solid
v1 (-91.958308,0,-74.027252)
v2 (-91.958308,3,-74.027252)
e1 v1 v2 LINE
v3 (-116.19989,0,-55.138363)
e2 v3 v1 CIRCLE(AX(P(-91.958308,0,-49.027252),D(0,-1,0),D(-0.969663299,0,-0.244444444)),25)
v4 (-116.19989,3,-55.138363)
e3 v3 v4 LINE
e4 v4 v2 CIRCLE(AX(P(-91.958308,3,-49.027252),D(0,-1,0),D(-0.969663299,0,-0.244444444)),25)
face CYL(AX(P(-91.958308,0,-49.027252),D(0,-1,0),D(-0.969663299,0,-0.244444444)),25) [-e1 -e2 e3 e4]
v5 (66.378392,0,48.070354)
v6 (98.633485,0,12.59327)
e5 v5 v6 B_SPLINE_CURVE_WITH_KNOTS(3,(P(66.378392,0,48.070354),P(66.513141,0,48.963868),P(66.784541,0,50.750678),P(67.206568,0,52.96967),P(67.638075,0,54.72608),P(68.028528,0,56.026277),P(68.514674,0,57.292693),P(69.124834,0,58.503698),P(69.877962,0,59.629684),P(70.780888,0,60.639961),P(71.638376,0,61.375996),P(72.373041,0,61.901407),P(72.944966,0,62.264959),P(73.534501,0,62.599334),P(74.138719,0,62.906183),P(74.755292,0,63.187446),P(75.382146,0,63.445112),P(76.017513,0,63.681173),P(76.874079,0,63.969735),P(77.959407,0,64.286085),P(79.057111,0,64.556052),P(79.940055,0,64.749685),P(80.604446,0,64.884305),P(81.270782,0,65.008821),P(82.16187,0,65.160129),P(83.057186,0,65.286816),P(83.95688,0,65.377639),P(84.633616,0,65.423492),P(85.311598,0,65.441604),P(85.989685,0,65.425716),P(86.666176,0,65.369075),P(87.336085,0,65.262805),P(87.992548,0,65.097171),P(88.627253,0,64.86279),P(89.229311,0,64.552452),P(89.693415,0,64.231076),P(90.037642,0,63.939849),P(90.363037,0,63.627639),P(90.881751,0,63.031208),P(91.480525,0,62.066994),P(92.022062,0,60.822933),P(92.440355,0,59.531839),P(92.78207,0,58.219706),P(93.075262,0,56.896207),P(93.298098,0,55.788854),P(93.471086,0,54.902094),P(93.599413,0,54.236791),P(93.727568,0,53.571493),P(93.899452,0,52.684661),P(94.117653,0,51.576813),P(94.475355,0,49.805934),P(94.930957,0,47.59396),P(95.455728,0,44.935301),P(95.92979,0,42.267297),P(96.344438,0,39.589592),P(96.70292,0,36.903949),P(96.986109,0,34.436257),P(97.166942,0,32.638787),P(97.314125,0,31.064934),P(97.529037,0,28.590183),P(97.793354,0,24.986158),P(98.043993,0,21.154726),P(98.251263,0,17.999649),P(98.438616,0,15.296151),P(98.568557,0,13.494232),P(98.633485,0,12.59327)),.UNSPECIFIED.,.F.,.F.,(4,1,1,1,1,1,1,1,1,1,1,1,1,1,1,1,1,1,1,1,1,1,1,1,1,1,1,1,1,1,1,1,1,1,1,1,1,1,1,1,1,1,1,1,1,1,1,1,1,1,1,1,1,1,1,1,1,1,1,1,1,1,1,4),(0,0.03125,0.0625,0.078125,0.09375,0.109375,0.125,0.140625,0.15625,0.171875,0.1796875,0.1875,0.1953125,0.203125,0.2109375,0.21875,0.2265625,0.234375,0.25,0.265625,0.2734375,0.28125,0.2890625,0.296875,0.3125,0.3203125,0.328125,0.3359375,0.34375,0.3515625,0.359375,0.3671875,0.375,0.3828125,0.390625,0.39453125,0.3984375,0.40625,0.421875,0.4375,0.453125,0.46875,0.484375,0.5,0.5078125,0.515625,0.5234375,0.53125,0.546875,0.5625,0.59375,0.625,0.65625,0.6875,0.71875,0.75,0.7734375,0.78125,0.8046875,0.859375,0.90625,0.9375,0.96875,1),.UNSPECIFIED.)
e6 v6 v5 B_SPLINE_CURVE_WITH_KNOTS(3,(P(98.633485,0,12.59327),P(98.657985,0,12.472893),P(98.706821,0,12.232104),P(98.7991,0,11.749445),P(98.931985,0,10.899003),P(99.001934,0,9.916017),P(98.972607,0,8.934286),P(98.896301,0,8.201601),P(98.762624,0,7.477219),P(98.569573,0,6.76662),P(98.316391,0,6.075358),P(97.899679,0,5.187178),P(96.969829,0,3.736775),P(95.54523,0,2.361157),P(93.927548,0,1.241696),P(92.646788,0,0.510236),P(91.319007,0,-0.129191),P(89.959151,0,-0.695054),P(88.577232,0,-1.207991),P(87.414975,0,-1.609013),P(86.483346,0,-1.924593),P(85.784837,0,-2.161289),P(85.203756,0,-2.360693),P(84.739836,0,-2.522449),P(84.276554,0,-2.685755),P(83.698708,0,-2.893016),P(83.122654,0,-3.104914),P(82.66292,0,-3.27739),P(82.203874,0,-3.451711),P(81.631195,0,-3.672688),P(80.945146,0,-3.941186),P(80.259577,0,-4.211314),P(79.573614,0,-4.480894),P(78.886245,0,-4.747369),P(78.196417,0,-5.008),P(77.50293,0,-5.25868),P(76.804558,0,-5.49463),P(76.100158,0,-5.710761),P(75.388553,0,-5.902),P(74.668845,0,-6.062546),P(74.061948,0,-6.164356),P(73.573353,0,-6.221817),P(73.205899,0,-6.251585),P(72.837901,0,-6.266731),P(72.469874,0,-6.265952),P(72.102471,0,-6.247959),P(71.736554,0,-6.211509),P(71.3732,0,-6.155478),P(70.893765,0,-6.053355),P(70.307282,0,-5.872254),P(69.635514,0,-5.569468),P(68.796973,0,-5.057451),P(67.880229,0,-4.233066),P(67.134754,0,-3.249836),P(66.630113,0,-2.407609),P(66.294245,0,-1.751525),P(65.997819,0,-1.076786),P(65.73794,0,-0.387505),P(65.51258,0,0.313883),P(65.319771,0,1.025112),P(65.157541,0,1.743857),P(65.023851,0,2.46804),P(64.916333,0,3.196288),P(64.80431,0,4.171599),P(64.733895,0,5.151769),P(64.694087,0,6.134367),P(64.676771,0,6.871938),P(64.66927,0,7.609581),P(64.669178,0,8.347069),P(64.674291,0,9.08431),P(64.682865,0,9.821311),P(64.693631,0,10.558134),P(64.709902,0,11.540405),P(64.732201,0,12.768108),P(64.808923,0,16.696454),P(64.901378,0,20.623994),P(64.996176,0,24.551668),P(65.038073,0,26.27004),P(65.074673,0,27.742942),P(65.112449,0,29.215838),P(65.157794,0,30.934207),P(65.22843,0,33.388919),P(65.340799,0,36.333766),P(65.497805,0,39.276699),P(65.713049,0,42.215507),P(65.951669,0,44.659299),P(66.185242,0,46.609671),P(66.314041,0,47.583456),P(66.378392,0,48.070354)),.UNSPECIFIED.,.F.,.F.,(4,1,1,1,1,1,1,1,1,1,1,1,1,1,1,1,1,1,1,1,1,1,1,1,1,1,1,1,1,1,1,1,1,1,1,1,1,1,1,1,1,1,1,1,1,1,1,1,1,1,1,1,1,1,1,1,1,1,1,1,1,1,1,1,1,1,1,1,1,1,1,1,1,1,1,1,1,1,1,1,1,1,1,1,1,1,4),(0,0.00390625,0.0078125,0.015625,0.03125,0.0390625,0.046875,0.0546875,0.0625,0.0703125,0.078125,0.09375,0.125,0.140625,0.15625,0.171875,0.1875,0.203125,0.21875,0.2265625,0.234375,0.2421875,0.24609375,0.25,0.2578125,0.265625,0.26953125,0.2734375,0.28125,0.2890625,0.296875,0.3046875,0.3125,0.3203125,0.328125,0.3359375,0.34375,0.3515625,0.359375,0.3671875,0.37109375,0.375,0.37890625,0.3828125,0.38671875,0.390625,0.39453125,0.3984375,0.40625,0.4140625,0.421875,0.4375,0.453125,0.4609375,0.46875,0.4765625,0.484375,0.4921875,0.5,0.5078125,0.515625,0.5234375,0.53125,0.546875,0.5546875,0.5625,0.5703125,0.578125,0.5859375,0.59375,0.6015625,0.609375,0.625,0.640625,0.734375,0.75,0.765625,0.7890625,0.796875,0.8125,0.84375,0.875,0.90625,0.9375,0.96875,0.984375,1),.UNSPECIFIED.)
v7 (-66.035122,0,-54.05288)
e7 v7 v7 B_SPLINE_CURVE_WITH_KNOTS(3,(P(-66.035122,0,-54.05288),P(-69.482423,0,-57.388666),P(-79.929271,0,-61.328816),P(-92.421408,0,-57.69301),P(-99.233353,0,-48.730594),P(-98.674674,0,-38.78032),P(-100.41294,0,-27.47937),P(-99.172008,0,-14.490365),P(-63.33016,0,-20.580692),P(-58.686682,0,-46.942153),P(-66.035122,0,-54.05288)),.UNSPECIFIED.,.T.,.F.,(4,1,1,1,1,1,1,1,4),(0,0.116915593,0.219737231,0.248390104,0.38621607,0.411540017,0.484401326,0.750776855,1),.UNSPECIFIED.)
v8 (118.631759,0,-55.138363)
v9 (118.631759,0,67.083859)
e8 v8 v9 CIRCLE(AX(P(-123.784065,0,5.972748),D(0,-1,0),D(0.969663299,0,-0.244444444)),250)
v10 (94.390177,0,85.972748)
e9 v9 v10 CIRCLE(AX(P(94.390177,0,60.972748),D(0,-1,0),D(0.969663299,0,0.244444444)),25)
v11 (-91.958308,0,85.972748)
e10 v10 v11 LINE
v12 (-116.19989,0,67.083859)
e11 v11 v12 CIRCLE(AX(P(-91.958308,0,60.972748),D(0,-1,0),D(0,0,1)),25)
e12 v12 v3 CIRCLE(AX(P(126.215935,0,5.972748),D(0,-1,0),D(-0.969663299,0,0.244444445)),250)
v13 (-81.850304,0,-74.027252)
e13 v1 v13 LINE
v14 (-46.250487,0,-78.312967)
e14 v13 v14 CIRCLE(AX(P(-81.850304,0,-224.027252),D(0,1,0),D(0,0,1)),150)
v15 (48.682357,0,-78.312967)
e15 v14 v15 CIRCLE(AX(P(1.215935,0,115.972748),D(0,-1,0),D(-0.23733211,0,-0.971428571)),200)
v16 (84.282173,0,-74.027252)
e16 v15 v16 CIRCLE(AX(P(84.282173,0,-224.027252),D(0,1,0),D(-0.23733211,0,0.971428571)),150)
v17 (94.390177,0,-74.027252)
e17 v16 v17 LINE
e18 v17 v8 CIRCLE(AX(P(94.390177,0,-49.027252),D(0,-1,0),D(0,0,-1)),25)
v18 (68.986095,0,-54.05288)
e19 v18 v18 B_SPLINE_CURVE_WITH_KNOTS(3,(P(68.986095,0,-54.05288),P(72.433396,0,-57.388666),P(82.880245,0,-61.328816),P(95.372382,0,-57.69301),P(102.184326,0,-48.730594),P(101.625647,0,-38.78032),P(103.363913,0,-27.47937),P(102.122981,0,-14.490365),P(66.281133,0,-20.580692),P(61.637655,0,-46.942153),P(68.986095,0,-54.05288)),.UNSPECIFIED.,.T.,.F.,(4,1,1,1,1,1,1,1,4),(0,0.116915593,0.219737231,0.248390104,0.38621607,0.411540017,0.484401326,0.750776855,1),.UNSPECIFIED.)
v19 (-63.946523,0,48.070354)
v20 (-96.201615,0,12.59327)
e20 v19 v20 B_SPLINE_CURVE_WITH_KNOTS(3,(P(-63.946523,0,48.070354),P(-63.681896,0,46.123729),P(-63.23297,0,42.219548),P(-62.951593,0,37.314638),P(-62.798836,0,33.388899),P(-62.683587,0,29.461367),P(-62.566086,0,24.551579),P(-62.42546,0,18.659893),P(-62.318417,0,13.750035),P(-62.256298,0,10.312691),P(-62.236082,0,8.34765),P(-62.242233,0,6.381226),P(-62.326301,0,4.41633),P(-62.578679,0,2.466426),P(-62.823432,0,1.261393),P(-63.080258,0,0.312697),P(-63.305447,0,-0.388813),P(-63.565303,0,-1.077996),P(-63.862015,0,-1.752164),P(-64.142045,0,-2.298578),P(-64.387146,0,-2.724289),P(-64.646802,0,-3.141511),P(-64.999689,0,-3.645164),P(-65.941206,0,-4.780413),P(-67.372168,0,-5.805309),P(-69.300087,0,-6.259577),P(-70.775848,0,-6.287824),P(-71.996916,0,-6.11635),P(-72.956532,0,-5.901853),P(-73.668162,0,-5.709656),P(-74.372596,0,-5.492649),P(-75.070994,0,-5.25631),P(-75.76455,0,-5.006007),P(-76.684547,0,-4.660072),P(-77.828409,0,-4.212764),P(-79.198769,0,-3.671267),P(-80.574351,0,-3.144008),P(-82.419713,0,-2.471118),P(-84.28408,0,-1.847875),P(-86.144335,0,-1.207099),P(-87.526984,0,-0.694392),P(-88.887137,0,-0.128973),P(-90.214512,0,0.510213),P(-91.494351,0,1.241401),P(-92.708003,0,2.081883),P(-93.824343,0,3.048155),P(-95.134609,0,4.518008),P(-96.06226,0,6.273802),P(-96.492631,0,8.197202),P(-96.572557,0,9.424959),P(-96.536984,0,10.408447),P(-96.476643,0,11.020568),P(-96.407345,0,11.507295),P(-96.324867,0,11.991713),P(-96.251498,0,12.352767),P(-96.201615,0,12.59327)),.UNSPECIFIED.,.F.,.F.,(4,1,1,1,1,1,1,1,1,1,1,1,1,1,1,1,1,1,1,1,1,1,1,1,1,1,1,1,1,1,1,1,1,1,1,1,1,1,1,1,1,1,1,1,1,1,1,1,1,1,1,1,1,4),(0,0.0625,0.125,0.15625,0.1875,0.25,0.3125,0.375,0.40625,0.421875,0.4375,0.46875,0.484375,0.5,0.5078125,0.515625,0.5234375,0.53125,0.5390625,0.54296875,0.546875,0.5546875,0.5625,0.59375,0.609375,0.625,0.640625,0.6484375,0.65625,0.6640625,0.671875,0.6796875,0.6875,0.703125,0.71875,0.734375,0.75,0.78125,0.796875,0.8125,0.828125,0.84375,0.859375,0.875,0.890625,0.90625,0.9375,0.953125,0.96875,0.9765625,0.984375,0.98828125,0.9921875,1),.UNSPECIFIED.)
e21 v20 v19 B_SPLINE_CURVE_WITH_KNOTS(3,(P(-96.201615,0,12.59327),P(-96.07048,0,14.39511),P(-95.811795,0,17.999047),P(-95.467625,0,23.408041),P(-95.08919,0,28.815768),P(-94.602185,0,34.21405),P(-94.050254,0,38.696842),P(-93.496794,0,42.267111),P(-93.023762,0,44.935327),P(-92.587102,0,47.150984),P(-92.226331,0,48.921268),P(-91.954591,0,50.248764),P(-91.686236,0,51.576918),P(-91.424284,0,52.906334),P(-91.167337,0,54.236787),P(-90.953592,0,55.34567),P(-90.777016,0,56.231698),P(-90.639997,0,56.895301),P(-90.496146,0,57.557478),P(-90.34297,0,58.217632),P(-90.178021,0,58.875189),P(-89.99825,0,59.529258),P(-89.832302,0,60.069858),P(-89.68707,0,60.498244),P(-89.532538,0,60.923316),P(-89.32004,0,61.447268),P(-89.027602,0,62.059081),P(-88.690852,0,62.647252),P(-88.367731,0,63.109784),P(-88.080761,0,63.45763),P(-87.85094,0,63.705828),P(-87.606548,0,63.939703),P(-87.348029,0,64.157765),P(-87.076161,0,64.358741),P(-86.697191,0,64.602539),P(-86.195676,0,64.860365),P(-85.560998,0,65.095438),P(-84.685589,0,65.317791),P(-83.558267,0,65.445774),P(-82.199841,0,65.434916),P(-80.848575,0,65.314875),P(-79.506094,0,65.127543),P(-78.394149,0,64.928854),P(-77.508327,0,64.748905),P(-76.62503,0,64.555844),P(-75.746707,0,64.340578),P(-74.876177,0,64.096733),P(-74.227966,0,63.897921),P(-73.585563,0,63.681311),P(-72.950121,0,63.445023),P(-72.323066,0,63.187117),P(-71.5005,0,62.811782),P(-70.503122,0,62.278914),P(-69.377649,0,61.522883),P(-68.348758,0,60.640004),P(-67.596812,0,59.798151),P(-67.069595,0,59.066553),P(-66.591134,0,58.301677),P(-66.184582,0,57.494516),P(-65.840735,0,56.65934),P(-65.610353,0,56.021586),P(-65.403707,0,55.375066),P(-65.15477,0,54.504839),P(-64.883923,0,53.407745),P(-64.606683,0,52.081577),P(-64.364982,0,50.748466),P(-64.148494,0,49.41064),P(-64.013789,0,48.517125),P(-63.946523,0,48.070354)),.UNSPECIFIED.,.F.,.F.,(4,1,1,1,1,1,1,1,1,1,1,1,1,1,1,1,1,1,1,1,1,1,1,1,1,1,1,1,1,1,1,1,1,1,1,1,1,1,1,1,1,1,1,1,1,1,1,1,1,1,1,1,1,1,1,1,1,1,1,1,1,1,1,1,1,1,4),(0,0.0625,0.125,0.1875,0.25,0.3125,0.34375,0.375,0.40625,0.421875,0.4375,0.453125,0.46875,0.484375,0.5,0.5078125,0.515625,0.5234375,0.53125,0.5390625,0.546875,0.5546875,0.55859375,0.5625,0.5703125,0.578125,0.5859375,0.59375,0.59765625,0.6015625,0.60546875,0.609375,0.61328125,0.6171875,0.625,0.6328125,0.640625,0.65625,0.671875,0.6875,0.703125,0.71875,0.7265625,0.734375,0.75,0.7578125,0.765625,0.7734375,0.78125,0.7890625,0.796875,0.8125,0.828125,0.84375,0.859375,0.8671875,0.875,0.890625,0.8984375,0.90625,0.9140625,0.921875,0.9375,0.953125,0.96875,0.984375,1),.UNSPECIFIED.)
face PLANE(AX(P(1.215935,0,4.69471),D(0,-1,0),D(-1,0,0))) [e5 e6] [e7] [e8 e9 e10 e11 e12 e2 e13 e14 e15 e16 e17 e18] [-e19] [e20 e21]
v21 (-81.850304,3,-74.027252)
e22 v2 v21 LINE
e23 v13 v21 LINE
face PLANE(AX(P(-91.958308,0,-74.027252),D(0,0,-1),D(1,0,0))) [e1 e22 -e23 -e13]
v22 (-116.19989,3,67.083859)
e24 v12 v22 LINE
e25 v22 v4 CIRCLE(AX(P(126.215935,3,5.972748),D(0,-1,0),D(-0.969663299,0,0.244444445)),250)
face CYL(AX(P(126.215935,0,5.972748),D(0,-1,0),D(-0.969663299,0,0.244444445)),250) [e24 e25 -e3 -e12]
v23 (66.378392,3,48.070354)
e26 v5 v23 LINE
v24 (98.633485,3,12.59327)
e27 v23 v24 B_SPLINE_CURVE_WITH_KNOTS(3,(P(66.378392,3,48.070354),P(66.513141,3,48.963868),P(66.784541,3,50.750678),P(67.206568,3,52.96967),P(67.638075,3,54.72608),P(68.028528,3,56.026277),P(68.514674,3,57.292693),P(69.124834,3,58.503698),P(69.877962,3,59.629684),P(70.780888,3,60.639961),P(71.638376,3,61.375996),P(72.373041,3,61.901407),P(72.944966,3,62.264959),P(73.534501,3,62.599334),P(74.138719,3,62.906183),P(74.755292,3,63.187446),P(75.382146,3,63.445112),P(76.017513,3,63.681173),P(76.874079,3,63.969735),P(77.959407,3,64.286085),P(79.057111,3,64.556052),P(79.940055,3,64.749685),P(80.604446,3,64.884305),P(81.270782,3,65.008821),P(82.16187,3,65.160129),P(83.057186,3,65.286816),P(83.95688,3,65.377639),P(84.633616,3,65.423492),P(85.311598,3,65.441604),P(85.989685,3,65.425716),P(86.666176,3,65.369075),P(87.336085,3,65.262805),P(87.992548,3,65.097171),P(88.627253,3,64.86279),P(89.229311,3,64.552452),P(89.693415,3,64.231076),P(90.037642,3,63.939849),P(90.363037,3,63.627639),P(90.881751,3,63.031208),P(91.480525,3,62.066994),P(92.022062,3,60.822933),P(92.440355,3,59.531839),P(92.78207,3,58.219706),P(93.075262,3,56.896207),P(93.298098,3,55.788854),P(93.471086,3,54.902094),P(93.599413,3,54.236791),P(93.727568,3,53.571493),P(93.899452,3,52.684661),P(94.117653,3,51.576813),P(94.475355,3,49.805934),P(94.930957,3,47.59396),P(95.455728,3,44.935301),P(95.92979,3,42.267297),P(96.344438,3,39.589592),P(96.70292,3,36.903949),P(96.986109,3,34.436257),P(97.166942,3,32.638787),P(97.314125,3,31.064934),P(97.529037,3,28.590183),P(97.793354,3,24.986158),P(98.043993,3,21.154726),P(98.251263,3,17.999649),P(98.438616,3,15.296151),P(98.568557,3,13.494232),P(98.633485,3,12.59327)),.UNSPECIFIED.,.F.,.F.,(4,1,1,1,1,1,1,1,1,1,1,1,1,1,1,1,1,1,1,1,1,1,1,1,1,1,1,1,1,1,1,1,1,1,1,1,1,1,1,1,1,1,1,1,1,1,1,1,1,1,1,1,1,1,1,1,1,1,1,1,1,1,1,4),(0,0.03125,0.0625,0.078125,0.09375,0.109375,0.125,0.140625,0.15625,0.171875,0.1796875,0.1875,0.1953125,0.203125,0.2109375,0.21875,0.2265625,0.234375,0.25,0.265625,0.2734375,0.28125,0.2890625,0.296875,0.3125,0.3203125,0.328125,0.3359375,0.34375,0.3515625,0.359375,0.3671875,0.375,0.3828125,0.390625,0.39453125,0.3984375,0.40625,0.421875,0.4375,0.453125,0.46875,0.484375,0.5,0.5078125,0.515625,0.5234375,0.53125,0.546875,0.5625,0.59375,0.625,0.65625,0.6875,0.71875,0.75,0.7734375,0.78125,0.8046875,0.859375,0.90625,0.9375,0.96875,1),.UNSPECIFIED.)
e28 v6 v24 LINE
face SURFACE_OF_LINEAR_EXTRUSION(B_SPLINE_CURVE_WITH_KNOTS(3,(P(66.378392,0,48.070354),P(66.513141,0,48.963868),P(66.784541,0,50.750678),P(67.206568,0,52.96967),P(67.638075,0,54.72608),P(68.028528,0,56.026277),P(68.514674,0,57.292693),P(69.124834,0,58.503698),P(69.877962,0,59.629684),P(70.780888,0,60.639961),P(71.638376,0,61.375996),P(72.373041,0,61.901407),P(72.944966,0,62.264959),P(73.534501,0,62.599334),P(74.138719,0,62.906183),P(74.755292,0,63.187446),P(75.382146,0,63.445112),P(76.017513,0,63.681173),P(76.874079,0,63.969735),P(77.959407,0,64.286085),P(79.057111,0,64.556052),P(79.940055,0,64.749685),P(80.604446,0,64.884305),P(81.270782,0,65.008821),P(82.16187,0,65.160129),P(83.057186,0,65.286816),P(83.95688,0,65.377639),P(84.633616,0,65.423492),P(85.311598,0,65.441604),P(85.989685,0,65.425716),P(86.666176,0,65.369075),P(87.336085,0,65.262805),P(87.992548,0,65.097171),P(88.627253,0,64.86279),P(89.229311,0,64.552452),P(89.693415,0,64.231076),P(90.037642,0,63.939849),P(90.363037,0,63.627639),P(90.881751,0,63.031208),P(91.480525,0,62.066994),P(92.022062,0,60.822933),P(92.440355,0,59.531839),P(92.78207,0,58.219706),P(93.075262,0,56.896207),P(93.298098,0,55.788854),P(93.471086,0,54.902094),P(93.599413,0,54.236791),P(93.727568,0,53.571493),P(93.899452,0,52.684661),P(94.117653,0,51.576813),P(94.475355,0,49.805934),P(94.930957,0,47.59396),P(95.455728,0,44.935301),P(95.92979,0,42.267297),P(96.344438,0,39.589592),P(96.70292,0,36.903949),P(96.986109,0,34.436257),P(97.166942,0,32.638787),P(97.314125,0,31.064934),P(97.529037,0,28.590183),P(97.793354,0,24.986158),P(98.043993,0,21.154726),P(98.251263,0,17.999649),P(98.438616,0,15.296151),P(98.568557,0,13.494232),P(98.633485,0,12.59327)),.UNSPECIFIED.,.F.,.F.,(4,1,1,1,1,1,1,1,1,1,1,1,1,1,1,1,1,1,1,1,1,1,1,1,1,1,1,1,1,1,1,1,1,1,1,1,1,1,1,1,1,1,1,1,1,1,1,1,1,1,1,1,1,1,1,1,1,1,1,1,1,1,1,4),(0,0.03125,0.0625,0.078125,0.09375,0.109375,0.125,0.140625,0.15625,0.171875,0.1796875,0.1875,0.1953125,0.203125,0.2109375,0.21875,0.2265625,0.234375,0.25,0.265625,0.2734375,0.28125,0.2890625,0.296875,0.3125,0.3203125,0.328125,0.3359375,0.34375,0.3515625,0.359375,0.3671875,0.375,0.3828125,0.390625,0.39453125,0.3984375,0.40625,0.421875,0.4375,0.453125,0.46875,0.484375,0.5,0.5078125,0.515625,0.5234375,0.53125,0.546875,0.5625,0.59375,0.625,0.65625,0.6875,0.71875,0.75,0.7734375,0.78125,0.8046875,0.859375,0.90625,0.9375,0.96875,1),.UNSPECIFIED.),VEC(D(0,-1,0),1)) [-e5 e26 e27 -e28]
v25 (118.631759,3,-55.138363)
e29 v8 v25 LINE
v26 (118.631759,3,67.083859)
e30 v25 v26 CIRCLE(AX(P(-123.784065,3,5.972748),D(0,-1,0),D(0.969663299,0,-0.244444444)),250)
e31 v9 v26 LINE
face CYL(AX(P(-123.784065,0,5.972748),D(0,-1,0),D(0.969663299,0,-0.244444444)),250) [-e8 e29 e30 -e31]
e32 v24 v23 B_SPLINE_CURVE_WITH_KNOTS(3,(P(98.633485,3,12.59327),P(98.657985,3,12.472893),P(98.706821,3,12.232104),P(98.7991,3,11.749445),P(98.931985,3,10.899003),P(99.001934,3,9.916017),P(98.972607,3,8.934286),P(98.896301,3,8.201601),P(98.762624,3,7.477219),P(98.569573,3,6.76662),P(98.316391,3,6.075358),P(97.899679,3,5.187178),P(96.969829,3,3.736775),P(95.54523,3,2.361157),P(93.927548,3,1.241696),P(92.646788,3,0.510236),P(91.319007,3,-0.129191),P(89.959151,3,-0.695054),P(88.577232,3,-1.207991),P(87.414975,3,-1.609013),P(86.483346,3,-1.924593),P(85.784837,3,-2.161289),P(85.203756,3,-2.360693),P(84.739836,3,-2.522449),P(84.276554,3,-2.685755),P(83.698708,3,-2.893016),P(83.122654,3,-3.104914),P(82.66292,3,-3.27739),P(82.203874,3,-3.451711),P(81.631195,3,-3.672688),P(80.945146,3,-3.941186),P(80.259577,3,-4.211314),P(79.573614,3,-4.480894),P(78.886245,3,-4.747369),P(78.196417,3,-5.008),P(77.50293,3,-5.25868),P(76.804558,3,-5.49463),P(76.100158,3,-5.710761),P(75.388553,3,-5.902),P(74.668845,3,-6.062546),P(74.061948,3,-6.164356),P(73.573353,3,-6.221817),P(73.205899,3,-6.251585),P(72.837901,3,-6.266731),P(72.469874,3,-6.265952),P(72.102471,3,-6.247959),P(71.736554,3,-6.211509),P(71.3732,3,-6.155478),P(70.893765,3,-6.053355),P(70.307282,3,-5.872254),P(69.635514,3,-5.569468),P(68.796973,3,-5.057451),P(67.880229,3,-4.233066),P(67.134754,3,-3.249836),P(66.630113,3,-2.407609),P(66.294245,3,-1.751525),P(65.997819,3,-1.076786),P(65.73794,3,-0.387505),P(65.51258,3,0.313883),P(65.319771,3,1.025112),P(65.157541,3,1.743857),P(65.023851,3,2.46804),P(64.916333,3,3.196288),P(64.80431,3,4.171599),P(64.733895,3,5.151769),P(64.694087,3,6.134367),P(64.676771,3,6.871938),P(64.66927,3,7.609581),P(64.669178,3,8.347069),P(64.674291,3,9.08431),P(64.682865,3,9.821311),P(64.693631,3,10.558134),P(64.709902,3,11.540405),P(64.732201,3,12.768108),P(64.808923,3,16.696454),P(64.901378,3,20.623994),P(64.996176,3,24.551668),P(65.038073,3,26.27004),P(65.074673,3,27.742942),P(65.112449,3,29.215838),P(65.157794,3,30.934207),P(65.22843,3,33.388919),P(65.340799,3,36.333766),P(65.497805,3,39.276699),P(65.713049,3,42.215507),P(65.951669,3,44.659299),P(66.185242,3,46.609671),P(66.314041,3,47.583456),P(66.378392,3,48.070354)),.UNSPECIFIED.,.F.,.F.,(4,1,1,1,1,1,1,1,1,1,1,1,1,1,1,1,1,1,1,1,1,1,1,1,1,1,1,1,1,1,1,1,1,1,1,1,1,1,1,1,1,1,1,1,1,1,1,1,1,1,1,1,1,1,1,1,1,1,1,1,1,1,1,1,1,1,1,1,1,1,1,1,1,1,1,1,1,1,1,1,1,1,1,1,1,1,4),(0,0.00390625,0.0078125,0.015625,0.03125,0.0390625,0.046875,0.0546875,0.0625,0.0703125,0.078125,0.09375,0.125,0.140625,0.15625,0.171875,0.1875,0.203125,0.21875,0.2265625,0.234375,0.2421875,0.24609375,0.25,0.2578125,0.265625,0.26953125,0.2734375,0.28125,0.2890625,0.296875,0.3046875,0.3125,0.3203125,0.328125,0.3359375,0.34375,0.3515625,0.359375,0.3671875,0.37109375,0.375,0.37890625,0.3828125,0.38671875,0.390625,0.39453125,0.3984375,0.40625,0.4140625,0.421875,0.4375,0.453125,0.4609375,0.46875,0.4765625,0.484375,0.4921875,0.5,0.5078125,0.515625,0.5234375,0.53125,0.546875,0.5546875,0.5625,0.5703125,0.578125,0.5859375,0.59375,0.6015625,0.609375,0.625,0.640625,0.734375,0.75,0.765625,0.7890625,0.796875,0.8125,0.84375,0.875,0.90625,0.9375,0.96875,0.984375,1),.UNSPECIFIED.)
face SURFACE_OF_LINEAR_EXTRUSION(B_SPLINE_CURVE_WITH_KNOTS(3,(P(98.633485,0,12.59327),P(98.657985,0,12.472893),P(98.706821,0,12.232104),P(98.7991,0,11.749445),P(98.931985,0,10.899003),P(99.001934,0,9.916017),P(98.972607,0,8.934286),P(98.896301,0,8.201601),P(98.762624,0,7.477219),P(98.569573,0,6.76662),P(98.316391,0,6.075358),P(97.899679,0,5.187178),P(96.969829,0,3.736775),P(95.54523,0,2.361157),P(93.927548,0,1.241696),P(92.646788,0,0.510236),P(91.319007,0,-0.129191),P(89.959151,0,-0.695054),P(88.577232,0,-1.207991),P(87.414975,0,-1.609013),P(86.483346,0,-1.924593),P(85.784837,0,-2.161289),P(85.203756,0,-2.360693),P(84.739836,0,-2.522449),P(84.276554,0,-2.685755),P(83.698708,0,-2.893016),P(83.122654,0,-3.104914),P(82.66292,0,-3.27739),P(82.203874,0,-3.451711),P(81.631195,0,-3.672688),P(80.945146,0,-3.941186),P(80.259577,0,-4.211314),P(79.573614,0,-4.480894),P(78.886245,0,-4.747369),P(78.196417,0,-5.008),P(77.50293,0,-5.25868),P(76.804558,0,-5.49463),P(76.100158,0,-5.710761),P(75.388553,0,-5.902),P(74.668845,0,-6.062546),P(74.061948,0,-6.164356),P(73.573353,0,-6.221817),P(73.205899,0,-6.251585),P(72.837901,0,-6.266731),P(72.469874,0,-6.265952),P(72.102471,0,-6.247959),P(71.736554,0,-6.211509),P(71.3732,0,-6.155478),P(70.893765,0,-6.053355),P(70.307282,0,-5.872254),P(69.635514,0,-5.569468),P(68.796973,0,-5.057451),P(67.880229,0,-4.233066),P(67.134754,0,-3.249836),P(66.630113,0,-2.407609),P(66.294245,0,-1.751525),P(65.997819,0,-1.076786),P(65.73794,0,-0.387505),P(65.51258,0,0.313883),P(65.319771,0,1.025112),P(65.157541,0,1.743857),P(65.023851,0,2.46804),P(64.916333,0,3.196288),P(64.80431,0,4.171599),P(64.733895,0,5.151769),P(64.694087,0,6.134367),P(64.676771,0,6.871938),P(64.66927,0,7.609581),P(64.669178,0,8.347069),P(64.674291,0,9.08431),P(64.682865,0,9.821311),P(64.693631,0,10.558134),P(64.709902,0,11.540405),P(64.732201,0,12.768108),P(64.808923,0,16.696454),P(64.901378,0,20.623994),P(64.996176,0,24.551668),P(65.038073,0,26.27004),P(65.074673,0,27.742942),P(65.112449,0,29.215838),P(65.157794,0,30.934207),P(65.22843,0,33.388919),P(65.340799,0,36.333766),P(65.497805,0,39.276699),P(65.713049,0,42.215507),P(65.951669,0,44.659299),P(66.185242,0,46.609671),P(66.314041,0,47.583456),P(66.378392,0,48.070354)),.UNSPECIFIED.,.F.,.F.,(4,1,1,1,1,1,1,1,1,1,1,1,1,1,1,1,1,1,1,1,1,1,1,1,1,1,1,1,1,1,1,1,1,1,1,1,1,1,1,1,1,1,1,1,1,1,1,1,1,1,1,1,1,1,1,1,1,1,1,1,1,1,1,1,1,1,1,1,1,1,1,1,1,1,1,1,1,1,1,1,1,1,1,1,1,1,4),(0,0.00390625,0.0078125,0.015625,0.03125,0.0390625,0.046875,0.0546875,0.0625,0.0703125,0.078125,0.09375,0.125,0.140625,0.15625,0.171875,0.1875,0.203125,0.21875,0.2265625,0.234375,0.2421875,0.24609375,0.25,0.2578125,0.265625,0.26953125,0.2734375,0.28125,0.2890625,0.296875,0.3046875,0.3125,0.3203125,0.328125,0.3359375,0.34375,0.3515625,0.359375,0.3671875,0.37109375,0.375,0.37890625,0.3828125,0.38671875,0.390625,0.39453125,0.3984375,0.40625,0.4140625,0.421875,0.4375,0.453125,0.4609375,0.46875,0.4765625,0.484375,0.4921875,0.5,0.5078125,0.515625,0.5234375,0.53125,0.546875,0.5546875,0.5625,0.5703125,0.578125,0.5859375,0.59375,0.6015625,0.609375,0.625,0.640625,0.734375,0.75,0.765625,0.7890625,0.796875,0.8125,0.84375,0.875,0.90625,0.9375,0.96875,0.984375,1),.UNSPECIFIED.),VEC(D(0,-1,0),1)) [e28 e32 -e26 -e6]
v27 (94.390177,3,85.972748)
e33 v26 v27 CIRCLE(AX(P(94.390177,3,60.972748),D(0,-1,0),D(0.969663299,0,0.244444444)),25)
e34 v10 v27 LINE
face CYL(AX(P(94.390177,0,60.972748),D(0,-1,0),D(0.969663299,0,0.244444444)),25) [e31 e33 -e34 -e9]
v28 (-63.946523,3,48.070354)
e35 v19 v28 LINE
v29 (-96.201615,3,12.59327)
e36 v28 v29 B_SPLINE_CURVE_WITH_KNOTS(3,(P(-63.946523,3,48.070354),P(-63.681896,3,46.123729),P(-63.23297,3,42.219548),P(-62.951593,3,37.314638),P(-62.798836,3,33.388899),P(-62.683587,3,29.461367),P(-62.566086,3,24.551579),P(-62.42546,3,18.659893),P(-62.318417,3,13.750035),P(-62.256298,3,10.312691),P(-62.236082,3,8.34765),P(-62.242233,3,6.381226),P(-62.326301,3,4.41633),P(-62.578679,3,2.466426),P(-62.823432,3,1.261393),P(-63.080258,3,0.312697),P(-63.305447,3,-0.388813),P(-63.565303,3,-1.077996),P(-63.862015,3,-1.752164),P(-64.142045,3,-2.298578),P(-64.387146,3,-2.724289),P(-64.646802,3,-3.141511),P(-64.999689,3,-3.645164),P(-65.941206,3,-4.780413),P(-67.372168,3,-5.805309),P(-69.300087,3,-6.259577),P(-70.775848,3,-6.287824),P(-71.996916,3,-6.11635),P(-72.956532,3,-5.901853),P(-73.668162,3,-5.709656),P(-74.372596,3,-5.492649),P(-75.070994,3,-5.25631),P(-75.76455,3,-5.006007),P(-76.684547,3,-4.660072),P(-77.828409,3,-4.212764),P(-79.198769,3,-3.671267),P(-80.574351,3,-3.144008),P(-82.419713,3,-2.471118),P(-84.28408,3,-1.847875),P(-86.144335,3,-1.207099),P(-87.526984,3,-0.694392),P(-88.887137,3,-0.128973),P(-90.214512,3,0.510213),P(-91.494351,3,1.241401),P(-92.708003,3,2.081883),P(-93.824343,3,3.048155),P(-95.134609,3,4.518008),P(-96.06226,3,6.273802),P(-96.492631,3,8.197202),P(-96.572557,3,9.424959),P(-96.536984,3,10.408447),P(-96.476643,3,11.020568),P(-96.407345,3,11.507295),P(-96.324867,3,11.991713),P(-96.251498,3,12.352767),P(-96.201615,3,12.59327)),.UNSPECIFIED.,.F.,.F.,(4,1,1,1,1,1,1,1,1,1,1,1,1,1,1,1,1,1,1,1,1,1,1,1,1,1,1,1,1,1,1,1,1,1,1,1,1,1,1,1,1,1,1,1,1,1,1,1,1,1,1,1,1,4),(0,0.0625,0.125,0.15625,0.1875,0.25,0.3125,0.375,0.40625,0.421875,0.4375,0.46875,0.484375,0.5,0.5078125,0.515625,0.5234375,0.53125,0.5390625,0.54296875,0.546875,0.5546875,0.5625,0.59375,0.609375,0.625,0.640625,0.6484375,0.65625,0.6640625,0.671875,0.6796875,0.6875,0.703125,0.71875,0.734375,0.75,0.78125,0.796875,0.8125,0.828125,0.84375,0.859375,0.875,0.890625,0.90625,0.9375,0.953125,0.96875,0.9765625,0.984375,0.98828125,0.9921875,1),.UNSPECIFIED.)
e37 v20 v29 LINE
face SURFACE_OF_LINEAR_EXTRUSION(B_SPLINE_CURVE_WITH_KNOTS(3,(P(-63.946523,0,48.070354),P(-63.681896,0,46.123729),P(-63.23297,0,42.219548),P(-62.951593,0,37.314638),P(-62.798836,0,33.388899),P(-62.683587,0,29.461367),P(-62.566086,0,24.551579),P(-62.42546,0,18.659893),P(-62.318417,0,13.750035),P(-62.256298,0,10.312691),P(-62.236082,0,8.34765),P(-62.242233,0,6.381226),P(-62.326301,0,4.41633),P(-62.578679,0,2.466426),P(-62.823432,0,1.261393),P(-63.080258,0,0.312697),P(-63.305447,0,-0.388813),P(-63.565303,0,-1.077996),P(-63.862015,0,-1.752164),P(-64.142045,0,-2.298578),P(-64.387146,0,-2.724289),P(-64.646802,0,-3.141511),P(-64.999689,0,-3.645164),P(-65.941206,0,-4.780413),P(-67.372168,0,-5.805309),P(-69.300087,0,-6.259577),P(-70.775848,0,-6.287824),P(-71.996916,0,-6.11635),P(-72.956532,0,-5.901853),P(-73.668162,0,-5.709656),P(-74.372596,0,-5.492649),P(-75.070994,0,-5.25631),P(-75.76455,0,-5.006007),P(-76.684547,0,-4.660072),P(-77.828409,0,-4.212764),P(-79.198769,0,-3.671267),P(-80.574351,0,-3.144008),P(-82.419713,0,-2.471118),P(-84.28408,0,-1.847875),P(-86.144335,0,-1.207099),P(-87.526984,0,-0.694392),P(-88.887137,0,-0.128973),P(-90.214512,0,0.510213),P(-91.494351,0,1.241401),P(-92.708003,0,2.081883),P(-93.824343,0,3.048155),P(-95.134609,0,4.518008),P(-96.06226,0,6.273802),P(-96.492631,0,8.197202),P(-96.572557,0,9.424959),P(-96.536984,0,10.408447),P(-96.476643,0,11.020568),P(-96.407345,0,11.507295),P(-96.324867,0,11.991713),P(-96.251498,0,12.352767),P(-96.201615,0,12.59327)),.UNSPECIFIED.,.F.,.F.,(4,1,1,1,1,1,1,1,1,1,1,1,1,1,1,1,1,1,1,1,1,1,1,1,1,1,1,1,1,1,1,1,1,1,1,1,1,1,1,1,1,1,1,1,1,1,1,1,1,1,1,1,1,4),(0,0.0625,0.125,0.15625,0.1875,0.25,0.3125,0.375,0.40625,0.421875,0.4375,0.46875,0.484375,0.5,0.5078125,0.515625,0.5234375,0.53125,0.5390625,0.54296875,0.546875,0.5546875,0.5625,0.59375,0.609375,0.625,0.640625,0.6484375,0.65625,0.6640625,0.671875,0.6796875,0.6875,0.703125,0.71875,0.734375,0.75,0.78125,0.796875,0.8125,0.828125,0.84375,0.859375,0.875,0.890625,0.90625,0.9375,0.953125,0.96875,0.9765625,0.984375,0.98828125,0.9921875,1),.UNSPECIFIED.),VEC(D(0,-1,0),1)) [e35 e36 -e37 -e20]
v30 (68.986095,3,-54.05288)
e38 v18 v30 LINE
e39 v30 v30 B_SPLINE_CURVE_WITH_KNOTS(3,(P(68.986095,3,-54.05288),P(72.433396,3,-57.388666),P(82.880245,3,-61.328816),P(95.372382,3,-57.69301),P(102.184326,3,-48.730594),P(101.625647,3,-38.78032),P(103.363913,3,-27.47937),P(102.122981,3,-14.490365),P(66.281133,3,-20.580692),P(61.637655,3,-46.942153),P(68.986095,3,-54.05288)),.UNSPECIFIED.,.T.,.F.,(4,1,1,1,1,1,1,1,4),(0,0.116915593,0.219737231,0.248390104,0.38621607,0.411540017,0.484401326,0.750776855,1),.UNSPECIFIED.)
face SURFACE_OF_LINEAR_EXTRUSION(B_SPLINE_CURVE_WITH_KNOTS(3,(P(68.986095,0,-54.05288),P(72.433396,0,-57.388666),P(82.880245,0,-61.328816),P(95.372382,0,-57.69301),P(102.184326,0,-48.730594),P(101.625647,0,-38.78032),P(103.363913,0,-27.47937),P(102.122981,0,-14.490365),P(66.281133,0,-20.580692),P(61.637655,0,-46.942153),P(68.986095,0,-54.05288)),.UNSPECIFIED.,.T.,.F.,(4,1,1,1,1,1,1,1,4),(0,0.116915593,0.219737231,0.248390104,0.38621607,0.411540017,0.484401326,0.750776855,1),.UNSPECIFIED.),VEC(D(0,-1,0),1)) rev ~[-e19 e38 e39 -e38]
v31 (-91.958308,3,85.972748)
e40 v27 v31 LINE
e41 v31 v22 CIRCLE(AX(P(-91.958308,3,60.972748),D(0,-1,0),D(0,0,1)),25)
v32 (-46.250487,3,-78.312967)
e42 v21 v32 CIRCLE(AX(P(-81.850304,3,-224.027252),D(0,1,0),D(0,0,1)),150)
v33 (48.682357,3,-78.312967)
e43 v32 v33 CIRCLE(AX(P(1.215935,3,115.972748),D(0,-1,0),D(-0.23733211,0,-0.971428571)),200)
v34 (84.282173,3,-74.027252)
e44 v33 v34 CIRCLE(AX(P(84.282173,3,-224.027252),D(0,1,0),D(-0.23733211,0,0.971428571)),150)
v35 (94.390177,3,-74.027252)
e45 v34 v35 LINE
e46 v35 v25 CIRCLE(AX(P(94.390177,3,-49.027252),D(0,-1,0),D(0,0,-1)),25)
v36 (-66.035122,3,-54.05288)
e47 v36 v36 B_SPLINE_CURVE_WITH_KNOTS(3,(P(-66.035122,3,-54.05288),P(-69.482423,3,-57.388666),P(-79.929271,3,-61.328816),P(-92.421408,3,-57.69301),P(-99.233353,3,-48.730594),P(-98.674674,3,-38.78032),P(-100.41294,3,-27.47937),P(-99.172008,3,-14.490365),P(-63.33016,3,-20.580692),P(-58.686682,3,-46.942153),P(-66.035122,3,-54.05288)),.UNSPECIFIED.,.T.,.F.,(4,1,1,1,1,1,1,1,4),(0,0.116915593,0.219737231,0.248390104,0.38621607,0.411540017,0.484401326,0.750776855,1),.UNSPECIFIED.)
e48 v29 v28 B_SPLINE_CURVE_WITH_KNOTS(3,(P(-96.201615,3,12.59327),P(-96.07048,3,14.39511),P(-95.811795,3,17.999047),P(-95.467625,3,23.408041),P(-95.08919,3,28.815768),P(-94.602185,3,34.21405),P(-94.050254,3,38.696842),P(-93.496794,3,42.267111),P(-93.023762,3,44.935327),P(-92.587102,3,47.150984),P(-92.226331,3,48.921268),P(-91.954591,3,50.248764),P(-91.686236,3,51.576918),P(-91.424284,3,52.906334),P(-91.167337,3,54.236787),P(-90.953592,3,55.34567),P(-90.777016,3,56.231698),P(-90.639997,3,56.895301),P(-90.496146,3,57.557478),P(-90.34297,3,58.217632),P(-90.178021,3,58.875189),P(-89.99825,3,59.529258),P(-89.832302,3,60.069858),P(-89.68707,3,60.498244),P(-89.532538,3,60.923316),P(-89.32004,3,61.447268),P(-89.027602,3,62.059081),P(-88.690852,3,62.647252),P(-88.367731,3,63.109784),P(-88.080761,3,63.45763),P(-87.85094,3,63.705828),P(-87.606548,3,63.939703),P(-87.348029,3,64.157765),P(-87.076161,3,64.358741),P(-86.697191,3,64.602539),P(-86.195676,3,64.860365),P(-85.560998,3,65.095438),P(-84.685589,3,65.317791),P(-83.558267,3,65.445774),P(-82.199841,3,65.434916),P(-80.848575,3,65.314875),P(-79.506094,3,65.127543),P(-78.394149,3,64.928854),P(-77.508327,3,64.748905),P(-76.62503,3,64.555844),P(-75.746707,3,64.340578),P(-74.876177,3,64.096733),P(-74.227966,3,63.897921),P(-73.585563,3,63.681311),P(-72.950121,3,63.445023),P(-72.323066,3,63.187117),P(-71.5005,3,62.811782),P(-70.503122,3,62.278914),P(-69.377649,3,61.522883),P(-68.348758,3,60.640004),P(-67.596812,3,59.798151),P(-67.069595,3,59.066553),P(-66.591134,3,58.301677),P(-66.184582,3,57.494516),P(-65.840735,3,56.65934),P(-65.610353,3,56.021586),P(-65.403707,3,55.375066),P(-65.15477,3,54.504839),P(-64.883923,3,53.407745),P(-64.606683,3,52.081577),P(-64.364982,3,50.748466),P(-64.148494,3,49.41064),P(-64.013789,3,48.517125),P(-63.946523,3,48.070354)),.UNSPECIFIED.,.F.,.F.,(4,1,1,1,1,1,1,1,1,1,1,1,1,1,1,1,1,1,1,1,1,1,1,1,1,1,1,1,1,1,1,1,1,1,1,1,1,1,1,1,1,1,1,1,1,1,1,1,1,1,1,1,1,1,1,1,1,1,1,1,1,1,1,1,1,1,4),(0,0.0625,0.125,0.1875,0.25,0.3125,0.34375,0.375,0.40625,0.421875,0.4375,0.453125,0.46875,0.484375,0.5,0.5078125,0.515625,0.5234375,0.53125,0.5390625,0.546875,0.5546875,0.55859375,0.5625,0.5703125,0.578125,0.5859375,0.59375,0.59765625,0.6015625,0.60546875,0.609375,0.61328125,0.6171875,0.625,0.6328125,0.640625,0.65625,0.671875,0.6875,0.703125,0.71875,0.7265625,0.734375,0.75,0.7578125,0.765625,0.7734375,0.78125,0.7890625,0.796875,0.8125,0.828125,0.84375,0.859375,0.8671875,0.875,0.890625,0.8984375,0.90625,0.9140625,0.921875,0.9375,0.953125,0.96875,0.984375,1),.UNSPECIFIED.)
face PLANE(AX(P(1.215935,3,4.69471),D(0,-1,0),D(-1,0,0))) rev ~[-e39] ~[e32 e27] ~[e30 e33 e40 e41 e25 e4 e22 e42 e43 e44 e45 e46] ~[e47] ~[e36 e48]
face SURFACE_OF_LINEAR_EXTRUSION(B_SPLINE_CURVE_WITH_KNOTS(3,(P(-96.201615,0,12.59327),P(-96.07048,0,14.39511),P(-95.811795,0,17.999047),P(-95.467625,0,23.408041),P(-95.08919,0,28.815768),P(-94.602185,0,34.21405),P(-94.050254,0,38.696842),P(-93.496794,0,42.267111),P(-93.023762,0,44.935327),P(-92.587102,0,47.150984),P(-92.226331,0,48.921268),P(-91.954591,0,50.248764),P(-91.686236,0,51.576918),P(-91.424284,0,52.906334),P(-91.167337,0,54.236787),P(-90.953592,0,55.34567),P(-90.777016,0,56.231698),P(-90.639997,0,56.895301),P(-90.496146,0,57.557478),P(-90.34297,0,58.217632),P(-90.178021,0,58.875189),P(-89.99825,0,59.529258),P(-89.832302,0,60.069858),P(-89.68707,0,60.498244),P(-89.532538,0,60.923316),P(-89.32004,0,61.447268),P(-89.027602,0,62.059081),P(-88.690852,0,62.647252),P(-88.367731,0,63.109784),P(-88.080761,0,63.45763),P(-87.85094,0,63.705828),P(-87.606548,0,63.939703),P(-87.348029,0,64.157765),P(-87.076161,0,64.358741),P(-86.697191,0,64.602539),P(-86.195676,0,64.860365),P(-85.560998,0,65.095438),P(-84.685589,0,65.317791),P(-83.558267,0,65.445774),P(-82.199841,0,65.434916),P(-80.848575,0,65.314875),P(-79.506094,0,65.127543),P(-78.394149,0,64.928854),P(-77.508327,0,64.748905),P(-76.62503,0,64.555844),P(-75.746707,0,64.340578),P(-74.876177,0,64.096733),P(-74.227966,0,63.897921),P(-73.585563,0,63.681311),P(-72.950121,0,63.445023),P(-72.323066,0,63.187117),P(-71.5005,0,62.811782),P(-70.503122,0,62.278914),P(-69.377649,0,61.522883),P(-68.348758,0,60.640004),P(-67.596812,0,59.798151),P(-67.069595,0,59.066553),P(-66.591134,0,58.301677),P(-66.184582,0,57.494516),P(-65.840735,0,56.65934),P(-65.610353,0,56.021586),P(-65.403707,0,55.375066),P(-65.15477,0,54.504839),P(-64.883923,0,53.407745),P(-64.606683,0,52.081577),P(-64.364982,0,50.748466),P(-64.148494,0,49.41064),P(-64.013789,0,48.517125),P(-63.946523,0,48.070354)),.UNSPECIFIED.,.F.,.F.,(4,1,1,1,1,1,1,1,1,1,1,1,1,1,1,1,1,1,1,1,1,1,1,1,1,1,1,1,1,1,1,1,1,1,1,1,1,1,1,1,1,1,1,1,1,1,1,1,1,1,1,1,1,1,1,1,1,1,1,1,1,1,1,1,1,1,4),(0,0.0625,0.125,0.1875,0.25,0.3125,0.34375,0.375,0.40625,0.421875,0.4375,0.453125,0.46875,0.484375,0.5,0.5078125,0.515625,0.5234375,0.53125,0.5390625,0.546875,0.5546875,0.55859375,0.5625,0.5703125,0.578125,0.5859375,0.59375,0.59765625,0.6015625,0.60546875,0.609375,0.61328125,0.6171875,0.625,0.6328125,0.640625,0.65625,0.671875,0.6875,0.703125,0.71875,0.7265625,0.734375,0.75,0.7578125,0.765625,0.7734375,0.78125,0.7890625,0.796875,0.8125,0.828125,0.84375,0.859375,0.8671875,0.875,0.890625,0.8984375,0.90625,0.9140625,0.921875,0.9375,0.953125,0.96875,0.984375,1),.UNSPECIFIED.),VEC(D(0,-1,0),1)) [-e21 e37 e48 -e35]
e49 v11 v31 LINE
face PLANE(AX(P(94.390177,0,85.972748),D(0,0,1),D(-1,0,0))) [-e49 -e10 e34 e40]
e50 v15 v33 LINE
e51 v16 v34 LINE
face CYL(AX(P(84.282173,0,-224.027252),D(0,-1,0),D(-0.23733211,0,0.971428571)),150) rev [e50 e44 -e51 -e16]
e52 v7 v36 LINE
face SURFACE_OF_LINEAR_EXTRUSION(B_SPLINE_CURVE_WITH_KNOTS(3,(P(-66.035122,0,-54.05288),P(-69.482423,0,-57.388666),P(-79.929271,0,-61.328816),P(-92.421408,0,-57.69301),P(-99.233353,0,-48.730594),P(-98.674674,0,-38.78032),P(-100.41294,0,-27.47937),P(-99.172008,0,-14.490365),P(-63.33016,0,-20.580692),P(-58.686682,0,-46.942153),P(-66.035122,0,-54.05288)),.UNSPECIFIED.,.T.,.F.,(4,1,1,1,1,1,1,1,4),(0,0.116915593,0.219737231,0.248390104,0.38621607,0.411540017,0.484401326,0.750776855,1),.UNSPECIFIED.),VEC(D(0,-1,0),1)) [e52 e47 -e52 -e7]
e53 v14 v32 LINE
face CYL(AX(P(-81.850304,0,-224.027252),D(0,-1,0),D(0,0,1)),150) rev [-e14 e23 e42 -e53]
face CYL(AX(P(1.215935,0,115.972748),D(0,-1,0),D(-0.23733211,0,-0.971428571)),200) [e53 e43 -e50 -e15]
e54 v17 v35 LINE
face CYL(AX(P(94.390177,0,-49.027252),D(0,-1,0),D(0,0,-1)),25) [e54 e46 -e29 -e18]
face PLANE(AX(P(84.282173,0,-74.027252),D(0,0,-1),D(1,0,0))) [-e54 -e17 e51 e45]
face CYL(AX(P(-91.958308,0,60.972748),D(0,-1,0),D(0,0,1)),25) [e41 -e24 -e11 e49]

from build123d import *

# Parameters (mm, degrees)
EXTRUDE_1_DEPTH = 3


with BuildPart() as part:
    # 草图1 → 凸台-拉伸1 (new body)
    with BuildSketch(Plane(origin=(0, 0, 0), x_dir=(1, 0, 0), z_dir=(0, 1, 0))):
        with BuildLine():
            Line((94.390177013, -85.972747776), (-91.958307572, -85.972747776))
            ThreePointArc((-91.958307572, -85.972747776), (-107.324215001, -80.693013719), (-116.199890049, -67.083858887))
            ThreePointArc((-116.199890049, -67.083858887), (-123.784065285, -5.972747771), (-116.199890058, 55.138363346))
            ThreePointArc((-116.199890058, 55.138363346), (-107.32421501, 68.747518179), (-91.958307581, 74.027252235))
            Line((-91.958307581, 74.027252235), (-81.850303918, 74.027252235))
            ThreePointArc((-81.850303918, 74.027252235), (-63.921874778, 75.102534916), (-46.250487363, 78.312966521))
            ThreePointArc((-46.250487363, 78.312966521), (1.215934711, 84.027252235), (48.682356785, 78.312966521))
            ThreePointArc((48.682356785, 78.312966521), (66.3537442, 75.102534916), (84.28217334, 74.027252235))
            Line((84.28217334, 74.027252235), (94.390177004, 74.027252235))
            ThreePointArc((94.390177004, 74.027252235), (109.756084433, 68.747518179), (118.631759481, 55.138363346))
            ThreePointArc((118.631759481, 55.138363346), (126.215934711, -5.972747765), (118.631759481, -67.083858876))
            ThreePointArc((118.631759481, -67.083858876), (109.756084439, -80.693013712), (94.390177013, -85.972747776))
        make_face()
        with BuildLine():
            add(Edge.make_bspline(
                [(68.986094853, 54.052880458), (72.433395849, 57.388665861), (82.880244638, 61.328816288), (95.372381615, 57.69301042), (102.184326446, 48.730593852), (101.625647104, 38.780320493), (103.363913249, 27.479369986), (102.122981057, 14.490364998), (66.281132782, 20.580692387), (61.637655085, 46.942152926), (68.986094853, 54.052880458)],
                knots=[0, 0, 0, 0, 0.116915593, 0.219737231, 0.248390104, 0.38621607, 0.411540017, 0.484401326, 0.750776855, 1, 1, 1, 1], degree=3))
        make_face(mode=Mode.SUBTRACT)
        with BuildLine():
            add(Edge.make_bspline(
                [(-66.035121605, 54.052880458), (-69.482422601, 57.388665861), (-79.92927139, 61.328816288), (-92.421408367, 57.69301042), (-99.233353198, 48.730593852), (-98.674673857, 38.780320493), (-100.412940001, 27.479369986), (-99.17200781, 14.490364998), (-63.330159534, 20.580692387), (-58.686681838, 46.942152926), (-66.035121605, 54.052880458)],
                knots=[0, 0, 0, 0, 0.116915593, 0.219737231, 0.248390104, 0.38621607, 0.411540017, 0.484401326, 0.750776855, 1, 1, 1, 1], degree=3))
        make_face(mode=Mode.SUBTRACT)
        with BuildLine():
            add(Edge.make_bspline(
                [(66.378392316, -48.070354103), (66.513141004, -48.963867831), (66.784541184, -50.75067783), (67.206568019, -52.969669789), (67.638075057, -54.726079503), (68.028528116, -56.02627659), (68.514673647, -57.292693044), (69.12483392, -58.503698266), (69.877962185, -59.629683626), (70.780887624, -60.639960695), (71.638376045, -61.375995808), (72.373040628, -61.901406728), (72.944965724, -62.264959486), (73.53450138, -62.599334396), (74.138719009, -62.906182598), (74.755292003, -63.187445614), (75.382145547, -63.445111968), (76.017512525, -63.681173008), (76.874078736, -63.969734643), (77.959407285, -64.286084635), (79.057111498, -64.556052349), (79.940055415, -64.749685469), (80.60444556, -64.884305484), (81.270782263, -65.008820837), (82.161869772, -65.160128895), (83.05718589, -65.286816255), (83.956880014, -65.377639436), (84.633616492, -65.423491866), (85.311598155, -65.44160392), (85.989685456, -65.425715556), (86.666176397, -65.369075307), (87.336085397, -65.262804646), (87.992548189, -65.097170551), (88.627252742, -64.86279042), (89.229311344, -64.552451953), (89.693415023, -64.231076156), (90.037641849, -63.939849012), (90.363037091, -63.627638911), (90.881751466, -63.031207555), (91.480525034, -62.066993636), (92.022062013, -60.822932679), (92.440354572, -59.531839315), (92.782069694, -58.219705754), (93.075261947, -56.896207294), (93.298097785, -55.788853885), (93.471085542, -54.902094117), (93.599412547, -54.236790927), (93.727568, -53.571492843), (93.899452413, -52.684660983), (94.117652758, -51.576812929), (94.475355345, -49.805934491), (94.930957408, -47.593960223), (95.455728051, -44.935300858), (95.929789785, -42.267296624), (96.344437503, -39.589592448), (96.702919776, -36.903948874), (96.98610925, -34.436257166), (97.16694213, -32.638786984), (97.314125211, -31.064933561), (97.529036862, -28.590183453), (97.793354214, -24.986157596), (98.043992656, -21.154725637), (98.251262668, -17.999649107), (98.438616168, -15.296150739), (98.568557404, -13.494232318), (98.633484504, -12.593270199)],
                knots=[0, 0, 0, 0, 0.03125, 0.0625, 0.078125, 0.09375, 0.109375, 0.125, 0.140625, 0.15625, 0.171875, 0.1796875, 0.1875, 0.1953125, 0.203125, 0.2109375, 0.21875, 0.2265625, 0.234375, 0.25, 0.265625, 0.2734375, 0.28125, 0.2890625, 0.296875, 0.3125, 0.3203125, 0.328125, 0.3359375, 0.34375, 0.3515625, 0.359375, 0.3671875, 0.375, 0.3828125, 0.390625, 0.39453125, 0.3984375, 0.40625, 0.421875, 0.4375, 0.453125, 0.46875, 0.484375, 0.5, 0.5078125, 0.515625, 0.5234375, 0.53125, 0.546875, 0.5625, 0.59375, 0.625, 0.65625, 0.6875, 0.71875, 0.75, 0.7734375, 0.78125, 0.8046875, 0.859375, 0.90625, 0.9375, 0.96875, 1, 1, 1, 1], degree=3))
            add(Edge.make_bspline(
                [(98.633484504, -12.593270199), (98.657985111, -12.472892573), (98.706820606, -12.23210357), (98.799099674, -11.749445327), (98.931985496, -10.899002555), (99.001933616, -9.916016728), (98.97260714, -8.934286342), (98.896300721, -8.201600799), (98.762623973, -7.477218868), (98.56957272, -6.76661966), (98.316390555, -6.075357544), (97.899678578, -5.187177565), (96.969828829, -3.736775346), (95.545230116, -2.361156946), (93.927547805, -1.241695609), (92.646788117, -0.510236318), (91.319007458, 0.129190807), (89.959150997, 0.695054189), (88.577232455, 1.207990753), (87.414975152, 1.609013485), (86.483345821, 1.924592969), (85.784837369, 2.161289088), (85.203755813, 2.360693358), (84.739835794, 2.522449181), (84.276553588, 2.685755162), (83.698707684, 2.89301636), (83.122653692, 3.104914262), (82.662920435, 3.277389548), (82.203873819, 3.451711074), (81.63119511, 3.672688204), (80.945146212, 3.941186427), (80.259577338, 4.211314192), (79.573613974, 4.480894382), (78.886245155, 4.747369331), (78.196417083, 5.007999708), (77.502929667, 5.258679877), (76.804557557, 5.494630383), (76.100158372, 5.710760553), (75.388552891, 5.902000242), (74.668845314, 6.062546145), (74.061948263, 6.164355764), (73.573352673, 6.221816886), (73.205898511, 6.251584554), (72.837900997, 6.266730728), (72.469873973, 6.26595239), (72.102471256, 6.247959166), (71.736554191, 6.211509461), (71.373199555, 6.15547756), (70.893765336, 6.053354614), (70.307282101, 5.872253565), (69.635514076, 5.56946821), (68.796973117, 5.057451206), (67.880229355, 4.233066104), (67.13475439, 3.249835897), (66.630113019, 2.407609036), (66.294245293, 1.751524611), (65.997818744, 1.076785848), (65.737939883, 0.387504717), (65.512580032, -0.313883458), (65.319771043, -1.02511209), (65.157541005, -1.743856743), (65.023850529, -2.468040417), (64.916333275, -3.196288356), (64.804309535, -4.171599232), (64.733894922, -5.151768718), (64.694087494, -6.134366581), (64.676771107, -6.871938024), (64.669269608, -7.609580904), (64.669178244, -8.347068642), (64.674290603, -9.084310275), (64.682864838, -9.821310558), (64.693630888, -10.558134013), (64.709901763, -11.540405223), (64.73220076, -12.768108154), (64.808922539, -16.696453647), (64.901377775, -20.623994263), (64.996175571, -24.551668052), (65.038072838, -26.270040467), (65.074673162, -27.742942063), (65.112448548, -29.21583789), (65.157794385, -30.934206887), (65.228429614, -33.388919367), (65.340799215, -36.333766197), (65.497804683, -39.276699271), (65.713048905, -42.215507279), (65.951668804, -44.659299476), (66.185241653, -46.609671079), (66.314040573, -47.583455865), (66.378392316, -48.070354103)],
                knots=[0, 0, 0, 0, 0.00390625, 0.0078125, 0.015625, 0.03125, 0.0390625, 0.046875, 0.0546875, 0.0625, 0.0703125, 0.078125, 0.09375, 0.125, 0.140625, 0.15625, 0.171875, 0.1875, 0.203125, 0.21875, 0.2265625, 0.234375, 0.2421875, 0.24609375, 0.25, 0.2578125, 0.265625, 0.26953125, 0.2734375, 0.28125, 0.2890625, 0.296875, 0.3046875, 0.3125, 0.3203125, 0.328125, 0.3359375, 0.34375, 0.3515625, 0.359375, 0.3671875, 0.37109375, 0.375, 0.37890625, 0.3828125, 0.38671875, 0.390625, 0.39453125, 0.3984375, 0.40625, 0.4140625, 0.421875, 0.4375, 0.453125, 0.4609375, 0.46875, 0.4765625, 0.484375, 0.4921875, 0.5, 0.5078125, 0.515625, 0.5234375, 0.53125, 0.546875, 0.5546875, 0.5625, 0.5703125, 0.578125, 0.5859375, 0.59375, 0.6015625, 0.609375, 0.625, 0.640625, 0.734375, 0.75, 0.765625, 0.7890625, 0.796875, 0.8125, 0.84375, 0.875, 0.90625, 0.9375, 0.96875, 0.984375, 1, 1, 1, 1], degree=3))
        make_face(mode=Mode.SUBTRACT)
        with BuildLine():
            add(Edge.make_bspline(
                [(-96.201615166, -12.593269941), (-96.070479827, -14.395110275), (-95.81179536, -17.999047188), (-95.467624919, -23.408041446), (-95.089189756, -28.81576773), (-94.602184559, -34.214050071), (-94.050254422, -38.696842114), (-93.49679355, -42.26711137), (-93.023761844, -44.935327257), (-92.58710182, -47.150983981), (-92.226330643, -48.921268225), (-91.954591494, -50.248763824), (-91.686236481, -51.576918199), (-91.424283732, -52.906333901), (-91.167337328, -54.236786656), (-90.953591977, -55.345669912), (-90.777016062, -56.231698069), (-90.639997302, -56.895301467), (-90.496145933, -57.557478372), (-90.342969695, -58.21763211), (-90.17802148, -58.875188612), (-89.998249684, -59.529257617), (-89.832302377, -60.069858215), (-89.687070055, -60.498243743), (-89.532537681, -60.923316382), (-89.320040372, -61.44726789), (-89.027601768, -62.059080721), (-88.690851661, -62.647251995), (-88.367731363, -63.109784406), (-88.08076087, -63.457630347), (-87.850939676, -63.705827916), (-87.606548475, -63.939702832), (-87.348029223, -64.157765345), (-87.076161358, -64.358740649), (-86.697190599, -64.602539108), (-86.19567556, -64.860364929), (-85.560997522, -65.095437775), (-84.685589451, -65.31779053), (-83.55826729, -65.445774099), (-82.199841254, -65.434916075), (-80.8485755, -65.314875278), (-79.506093517, -65.127543311), (-78.394149482, -64.928853573), (-77.508327306, -64.748905044), (-76.625029788, -64.55584433), (-75.746707045, -64.340578419), (-74.876176655, -64.096732998), (-74.227965734, -63.897921481), (-73.585563188, -63.681311466), (-72.950121421, -63.445023478), (-72.323065752, -63.187116947), (-71.500499657, -62.811782162), (-70.503122094, -62.278913749), (-69.377649483, -61.522882796), (-68.348758122, -60.640003641), (-67.596811564, -59.79815054), (-67.069594949, -59.066553358), (-66.591133746, -58.301676856), (-66.18458179, -57.49451641), (-65.840735151, -56.659340397), (-65.610352744, -56.021586113), (-65.403707451, -55.375066098), (-65.154770258, -54.504838893), (-64.883922625, -53.407744612), (-64.606682584, -52.08157666), (-64.36498242, -50.7484663), (-64.14849407, -49.410640149), (-64.013789343, -48.517125174), (-63.946522993, -48.070353987)],
                knots=[0, 0, 0, 0, 0.0625, 0.125, 0.1875, 0.25, 0.3125, 0.34375, 0.375, 0.40625, 0.421875, 0.4375, 0.453125, 0.46875, 0.484375, 0.5, 0.5078125, 0.515625, 0.5234375, 0.53125, 0.5390625, 0.546875, 0.5546875, 0.55859375, 0.5625, 0.5703125, 0.578125, 0.5859375, 0.59375, 0.59765625, 0.6015625, 0.60546875, 0.609375, 0.61328125, 0.6171875, 0.625, 0.6328125, 0.640625, 0.65625, 0.671875, 0.6875, 0.703125, 0.71875, 0.7265625, 0.734375, 0.75, 0.7578125, 0.765625, 0.7734375, 0.78125, 0.7890625, 0.796875, 0.8125, 0.828125, 0.84375, 0.859375, 0.8671875, 0.875, 0.890625, 0.8984375, 0.90625, 0.9140625, 0.921875, 0.9375, 0.953125, 0.96875, 0.984375, 1, 1, 1, 1], degree=3))
            add(Edge.make_bspline(
                [(-63.946522993, -48.070353987), (-63.681896242, -46.12372925), (-63.232969834, -42.219548423), (-62.951592742, -37.314637681), (-62.798836103, -33.388898798), (-62.683586676, -29.46136706), (-62.566086204, -24.551578619), (-62.425460226, -18.659892586), (-62.31841739, -13.750035035), (-62.25629846, -10.31269127), (-62.236082135, -8.347650384), (-62.242233066, -6.381226298), (-62.326300728, -4.416330115), (-62.57867879, -2.46642638), (-62.823431788, -1.261393442), (-63.080257674, -0.312696571), (-63.305446751, 0.388812943), (-63.565302742, 1.077995557), (-63.862015123, 1.752164382), (-64.14204485, 2.298578093), (-64.38714603, 2.724289313), (-64.646801655, 3.141511417), (-64.999688904, 3.645164395), (-65.941206177, 4.780412563), (-67.372168299, 5.805308786), (-69.300086911, 6.259577003), (-70.775848063, 6.287824274), (-71.996915967, 6.116350193), (-72.956531647, 5.901852901), (-73.66816223, 5.70965627), (-74.372596211, 5.492648679), (-75.070993714, 5.256309618), (-75.764549617, 5.006007057), (-76.684547046, 4.660072197), (-77.828408726, 4.212764331), (-79.198769308, 3.671266982), (-80.574350905, 3.144008122), (-82.419712578, 2.471117671), (-84.284080179, 1.847874803), (-86.144334522, 1.207099184), (-87.526984368, 0.694391918), (-88.887136841, 0.12897263), (-90.214512332, -0.510213084), (-91.49435078, -1.241400867), (-92.708002967, -2.08188344), (-93.824343229, -3.048154657), (-95.134608842, -4.518008077), (-96.06225963, -6.27380222), (-96.492630986, -8.197202264), (-96.572557219, -9.424958977), (-96.536984177, -10.408447049), (-96.476642656, -11.02056807), (-96.407345023, -11.507295343), (-96.324867487, -11.99171323), (-96.251498435, -12.352766664), (-96.201615166, -12.593269941)],
                knots=[0, 0, 0, 0, 0.0625, 0.125, 0.15625, 0.1875, 0.25, 0.3125, 0.375, 0.40625, 0.421875, 0.4375, 0.46875, 0.484375, 0.5, 0.5078125, 0.515625, 0.5234375, 0.53125, 0.5390625, 0.54296875, 0.546875, 0.5546875, 0.5625, 0.59375, 0.609375, 0.625, 0.640625, 0.6484375, 0.65625, 0.6640625, 0.671875, 0.6796875, 0.6875, 0.703125, 0.71875, 0.734375, 0.75, 0.78125, 0.796875, 0.8125, 0.828125, 0.84375, 0.859375, 0.875, 0.890625, 0.90625, 0.9375, 0.953125, 0.96875, 0.9765625, 0.984375, 0.98828125, 0.9921875, 1, 1, 1, 1], degree=3))
        make_face(mode=Mode.SUBTRACT)
    extrude(amount=EXTRUDE_1_DEPTH)


solid = part.part
